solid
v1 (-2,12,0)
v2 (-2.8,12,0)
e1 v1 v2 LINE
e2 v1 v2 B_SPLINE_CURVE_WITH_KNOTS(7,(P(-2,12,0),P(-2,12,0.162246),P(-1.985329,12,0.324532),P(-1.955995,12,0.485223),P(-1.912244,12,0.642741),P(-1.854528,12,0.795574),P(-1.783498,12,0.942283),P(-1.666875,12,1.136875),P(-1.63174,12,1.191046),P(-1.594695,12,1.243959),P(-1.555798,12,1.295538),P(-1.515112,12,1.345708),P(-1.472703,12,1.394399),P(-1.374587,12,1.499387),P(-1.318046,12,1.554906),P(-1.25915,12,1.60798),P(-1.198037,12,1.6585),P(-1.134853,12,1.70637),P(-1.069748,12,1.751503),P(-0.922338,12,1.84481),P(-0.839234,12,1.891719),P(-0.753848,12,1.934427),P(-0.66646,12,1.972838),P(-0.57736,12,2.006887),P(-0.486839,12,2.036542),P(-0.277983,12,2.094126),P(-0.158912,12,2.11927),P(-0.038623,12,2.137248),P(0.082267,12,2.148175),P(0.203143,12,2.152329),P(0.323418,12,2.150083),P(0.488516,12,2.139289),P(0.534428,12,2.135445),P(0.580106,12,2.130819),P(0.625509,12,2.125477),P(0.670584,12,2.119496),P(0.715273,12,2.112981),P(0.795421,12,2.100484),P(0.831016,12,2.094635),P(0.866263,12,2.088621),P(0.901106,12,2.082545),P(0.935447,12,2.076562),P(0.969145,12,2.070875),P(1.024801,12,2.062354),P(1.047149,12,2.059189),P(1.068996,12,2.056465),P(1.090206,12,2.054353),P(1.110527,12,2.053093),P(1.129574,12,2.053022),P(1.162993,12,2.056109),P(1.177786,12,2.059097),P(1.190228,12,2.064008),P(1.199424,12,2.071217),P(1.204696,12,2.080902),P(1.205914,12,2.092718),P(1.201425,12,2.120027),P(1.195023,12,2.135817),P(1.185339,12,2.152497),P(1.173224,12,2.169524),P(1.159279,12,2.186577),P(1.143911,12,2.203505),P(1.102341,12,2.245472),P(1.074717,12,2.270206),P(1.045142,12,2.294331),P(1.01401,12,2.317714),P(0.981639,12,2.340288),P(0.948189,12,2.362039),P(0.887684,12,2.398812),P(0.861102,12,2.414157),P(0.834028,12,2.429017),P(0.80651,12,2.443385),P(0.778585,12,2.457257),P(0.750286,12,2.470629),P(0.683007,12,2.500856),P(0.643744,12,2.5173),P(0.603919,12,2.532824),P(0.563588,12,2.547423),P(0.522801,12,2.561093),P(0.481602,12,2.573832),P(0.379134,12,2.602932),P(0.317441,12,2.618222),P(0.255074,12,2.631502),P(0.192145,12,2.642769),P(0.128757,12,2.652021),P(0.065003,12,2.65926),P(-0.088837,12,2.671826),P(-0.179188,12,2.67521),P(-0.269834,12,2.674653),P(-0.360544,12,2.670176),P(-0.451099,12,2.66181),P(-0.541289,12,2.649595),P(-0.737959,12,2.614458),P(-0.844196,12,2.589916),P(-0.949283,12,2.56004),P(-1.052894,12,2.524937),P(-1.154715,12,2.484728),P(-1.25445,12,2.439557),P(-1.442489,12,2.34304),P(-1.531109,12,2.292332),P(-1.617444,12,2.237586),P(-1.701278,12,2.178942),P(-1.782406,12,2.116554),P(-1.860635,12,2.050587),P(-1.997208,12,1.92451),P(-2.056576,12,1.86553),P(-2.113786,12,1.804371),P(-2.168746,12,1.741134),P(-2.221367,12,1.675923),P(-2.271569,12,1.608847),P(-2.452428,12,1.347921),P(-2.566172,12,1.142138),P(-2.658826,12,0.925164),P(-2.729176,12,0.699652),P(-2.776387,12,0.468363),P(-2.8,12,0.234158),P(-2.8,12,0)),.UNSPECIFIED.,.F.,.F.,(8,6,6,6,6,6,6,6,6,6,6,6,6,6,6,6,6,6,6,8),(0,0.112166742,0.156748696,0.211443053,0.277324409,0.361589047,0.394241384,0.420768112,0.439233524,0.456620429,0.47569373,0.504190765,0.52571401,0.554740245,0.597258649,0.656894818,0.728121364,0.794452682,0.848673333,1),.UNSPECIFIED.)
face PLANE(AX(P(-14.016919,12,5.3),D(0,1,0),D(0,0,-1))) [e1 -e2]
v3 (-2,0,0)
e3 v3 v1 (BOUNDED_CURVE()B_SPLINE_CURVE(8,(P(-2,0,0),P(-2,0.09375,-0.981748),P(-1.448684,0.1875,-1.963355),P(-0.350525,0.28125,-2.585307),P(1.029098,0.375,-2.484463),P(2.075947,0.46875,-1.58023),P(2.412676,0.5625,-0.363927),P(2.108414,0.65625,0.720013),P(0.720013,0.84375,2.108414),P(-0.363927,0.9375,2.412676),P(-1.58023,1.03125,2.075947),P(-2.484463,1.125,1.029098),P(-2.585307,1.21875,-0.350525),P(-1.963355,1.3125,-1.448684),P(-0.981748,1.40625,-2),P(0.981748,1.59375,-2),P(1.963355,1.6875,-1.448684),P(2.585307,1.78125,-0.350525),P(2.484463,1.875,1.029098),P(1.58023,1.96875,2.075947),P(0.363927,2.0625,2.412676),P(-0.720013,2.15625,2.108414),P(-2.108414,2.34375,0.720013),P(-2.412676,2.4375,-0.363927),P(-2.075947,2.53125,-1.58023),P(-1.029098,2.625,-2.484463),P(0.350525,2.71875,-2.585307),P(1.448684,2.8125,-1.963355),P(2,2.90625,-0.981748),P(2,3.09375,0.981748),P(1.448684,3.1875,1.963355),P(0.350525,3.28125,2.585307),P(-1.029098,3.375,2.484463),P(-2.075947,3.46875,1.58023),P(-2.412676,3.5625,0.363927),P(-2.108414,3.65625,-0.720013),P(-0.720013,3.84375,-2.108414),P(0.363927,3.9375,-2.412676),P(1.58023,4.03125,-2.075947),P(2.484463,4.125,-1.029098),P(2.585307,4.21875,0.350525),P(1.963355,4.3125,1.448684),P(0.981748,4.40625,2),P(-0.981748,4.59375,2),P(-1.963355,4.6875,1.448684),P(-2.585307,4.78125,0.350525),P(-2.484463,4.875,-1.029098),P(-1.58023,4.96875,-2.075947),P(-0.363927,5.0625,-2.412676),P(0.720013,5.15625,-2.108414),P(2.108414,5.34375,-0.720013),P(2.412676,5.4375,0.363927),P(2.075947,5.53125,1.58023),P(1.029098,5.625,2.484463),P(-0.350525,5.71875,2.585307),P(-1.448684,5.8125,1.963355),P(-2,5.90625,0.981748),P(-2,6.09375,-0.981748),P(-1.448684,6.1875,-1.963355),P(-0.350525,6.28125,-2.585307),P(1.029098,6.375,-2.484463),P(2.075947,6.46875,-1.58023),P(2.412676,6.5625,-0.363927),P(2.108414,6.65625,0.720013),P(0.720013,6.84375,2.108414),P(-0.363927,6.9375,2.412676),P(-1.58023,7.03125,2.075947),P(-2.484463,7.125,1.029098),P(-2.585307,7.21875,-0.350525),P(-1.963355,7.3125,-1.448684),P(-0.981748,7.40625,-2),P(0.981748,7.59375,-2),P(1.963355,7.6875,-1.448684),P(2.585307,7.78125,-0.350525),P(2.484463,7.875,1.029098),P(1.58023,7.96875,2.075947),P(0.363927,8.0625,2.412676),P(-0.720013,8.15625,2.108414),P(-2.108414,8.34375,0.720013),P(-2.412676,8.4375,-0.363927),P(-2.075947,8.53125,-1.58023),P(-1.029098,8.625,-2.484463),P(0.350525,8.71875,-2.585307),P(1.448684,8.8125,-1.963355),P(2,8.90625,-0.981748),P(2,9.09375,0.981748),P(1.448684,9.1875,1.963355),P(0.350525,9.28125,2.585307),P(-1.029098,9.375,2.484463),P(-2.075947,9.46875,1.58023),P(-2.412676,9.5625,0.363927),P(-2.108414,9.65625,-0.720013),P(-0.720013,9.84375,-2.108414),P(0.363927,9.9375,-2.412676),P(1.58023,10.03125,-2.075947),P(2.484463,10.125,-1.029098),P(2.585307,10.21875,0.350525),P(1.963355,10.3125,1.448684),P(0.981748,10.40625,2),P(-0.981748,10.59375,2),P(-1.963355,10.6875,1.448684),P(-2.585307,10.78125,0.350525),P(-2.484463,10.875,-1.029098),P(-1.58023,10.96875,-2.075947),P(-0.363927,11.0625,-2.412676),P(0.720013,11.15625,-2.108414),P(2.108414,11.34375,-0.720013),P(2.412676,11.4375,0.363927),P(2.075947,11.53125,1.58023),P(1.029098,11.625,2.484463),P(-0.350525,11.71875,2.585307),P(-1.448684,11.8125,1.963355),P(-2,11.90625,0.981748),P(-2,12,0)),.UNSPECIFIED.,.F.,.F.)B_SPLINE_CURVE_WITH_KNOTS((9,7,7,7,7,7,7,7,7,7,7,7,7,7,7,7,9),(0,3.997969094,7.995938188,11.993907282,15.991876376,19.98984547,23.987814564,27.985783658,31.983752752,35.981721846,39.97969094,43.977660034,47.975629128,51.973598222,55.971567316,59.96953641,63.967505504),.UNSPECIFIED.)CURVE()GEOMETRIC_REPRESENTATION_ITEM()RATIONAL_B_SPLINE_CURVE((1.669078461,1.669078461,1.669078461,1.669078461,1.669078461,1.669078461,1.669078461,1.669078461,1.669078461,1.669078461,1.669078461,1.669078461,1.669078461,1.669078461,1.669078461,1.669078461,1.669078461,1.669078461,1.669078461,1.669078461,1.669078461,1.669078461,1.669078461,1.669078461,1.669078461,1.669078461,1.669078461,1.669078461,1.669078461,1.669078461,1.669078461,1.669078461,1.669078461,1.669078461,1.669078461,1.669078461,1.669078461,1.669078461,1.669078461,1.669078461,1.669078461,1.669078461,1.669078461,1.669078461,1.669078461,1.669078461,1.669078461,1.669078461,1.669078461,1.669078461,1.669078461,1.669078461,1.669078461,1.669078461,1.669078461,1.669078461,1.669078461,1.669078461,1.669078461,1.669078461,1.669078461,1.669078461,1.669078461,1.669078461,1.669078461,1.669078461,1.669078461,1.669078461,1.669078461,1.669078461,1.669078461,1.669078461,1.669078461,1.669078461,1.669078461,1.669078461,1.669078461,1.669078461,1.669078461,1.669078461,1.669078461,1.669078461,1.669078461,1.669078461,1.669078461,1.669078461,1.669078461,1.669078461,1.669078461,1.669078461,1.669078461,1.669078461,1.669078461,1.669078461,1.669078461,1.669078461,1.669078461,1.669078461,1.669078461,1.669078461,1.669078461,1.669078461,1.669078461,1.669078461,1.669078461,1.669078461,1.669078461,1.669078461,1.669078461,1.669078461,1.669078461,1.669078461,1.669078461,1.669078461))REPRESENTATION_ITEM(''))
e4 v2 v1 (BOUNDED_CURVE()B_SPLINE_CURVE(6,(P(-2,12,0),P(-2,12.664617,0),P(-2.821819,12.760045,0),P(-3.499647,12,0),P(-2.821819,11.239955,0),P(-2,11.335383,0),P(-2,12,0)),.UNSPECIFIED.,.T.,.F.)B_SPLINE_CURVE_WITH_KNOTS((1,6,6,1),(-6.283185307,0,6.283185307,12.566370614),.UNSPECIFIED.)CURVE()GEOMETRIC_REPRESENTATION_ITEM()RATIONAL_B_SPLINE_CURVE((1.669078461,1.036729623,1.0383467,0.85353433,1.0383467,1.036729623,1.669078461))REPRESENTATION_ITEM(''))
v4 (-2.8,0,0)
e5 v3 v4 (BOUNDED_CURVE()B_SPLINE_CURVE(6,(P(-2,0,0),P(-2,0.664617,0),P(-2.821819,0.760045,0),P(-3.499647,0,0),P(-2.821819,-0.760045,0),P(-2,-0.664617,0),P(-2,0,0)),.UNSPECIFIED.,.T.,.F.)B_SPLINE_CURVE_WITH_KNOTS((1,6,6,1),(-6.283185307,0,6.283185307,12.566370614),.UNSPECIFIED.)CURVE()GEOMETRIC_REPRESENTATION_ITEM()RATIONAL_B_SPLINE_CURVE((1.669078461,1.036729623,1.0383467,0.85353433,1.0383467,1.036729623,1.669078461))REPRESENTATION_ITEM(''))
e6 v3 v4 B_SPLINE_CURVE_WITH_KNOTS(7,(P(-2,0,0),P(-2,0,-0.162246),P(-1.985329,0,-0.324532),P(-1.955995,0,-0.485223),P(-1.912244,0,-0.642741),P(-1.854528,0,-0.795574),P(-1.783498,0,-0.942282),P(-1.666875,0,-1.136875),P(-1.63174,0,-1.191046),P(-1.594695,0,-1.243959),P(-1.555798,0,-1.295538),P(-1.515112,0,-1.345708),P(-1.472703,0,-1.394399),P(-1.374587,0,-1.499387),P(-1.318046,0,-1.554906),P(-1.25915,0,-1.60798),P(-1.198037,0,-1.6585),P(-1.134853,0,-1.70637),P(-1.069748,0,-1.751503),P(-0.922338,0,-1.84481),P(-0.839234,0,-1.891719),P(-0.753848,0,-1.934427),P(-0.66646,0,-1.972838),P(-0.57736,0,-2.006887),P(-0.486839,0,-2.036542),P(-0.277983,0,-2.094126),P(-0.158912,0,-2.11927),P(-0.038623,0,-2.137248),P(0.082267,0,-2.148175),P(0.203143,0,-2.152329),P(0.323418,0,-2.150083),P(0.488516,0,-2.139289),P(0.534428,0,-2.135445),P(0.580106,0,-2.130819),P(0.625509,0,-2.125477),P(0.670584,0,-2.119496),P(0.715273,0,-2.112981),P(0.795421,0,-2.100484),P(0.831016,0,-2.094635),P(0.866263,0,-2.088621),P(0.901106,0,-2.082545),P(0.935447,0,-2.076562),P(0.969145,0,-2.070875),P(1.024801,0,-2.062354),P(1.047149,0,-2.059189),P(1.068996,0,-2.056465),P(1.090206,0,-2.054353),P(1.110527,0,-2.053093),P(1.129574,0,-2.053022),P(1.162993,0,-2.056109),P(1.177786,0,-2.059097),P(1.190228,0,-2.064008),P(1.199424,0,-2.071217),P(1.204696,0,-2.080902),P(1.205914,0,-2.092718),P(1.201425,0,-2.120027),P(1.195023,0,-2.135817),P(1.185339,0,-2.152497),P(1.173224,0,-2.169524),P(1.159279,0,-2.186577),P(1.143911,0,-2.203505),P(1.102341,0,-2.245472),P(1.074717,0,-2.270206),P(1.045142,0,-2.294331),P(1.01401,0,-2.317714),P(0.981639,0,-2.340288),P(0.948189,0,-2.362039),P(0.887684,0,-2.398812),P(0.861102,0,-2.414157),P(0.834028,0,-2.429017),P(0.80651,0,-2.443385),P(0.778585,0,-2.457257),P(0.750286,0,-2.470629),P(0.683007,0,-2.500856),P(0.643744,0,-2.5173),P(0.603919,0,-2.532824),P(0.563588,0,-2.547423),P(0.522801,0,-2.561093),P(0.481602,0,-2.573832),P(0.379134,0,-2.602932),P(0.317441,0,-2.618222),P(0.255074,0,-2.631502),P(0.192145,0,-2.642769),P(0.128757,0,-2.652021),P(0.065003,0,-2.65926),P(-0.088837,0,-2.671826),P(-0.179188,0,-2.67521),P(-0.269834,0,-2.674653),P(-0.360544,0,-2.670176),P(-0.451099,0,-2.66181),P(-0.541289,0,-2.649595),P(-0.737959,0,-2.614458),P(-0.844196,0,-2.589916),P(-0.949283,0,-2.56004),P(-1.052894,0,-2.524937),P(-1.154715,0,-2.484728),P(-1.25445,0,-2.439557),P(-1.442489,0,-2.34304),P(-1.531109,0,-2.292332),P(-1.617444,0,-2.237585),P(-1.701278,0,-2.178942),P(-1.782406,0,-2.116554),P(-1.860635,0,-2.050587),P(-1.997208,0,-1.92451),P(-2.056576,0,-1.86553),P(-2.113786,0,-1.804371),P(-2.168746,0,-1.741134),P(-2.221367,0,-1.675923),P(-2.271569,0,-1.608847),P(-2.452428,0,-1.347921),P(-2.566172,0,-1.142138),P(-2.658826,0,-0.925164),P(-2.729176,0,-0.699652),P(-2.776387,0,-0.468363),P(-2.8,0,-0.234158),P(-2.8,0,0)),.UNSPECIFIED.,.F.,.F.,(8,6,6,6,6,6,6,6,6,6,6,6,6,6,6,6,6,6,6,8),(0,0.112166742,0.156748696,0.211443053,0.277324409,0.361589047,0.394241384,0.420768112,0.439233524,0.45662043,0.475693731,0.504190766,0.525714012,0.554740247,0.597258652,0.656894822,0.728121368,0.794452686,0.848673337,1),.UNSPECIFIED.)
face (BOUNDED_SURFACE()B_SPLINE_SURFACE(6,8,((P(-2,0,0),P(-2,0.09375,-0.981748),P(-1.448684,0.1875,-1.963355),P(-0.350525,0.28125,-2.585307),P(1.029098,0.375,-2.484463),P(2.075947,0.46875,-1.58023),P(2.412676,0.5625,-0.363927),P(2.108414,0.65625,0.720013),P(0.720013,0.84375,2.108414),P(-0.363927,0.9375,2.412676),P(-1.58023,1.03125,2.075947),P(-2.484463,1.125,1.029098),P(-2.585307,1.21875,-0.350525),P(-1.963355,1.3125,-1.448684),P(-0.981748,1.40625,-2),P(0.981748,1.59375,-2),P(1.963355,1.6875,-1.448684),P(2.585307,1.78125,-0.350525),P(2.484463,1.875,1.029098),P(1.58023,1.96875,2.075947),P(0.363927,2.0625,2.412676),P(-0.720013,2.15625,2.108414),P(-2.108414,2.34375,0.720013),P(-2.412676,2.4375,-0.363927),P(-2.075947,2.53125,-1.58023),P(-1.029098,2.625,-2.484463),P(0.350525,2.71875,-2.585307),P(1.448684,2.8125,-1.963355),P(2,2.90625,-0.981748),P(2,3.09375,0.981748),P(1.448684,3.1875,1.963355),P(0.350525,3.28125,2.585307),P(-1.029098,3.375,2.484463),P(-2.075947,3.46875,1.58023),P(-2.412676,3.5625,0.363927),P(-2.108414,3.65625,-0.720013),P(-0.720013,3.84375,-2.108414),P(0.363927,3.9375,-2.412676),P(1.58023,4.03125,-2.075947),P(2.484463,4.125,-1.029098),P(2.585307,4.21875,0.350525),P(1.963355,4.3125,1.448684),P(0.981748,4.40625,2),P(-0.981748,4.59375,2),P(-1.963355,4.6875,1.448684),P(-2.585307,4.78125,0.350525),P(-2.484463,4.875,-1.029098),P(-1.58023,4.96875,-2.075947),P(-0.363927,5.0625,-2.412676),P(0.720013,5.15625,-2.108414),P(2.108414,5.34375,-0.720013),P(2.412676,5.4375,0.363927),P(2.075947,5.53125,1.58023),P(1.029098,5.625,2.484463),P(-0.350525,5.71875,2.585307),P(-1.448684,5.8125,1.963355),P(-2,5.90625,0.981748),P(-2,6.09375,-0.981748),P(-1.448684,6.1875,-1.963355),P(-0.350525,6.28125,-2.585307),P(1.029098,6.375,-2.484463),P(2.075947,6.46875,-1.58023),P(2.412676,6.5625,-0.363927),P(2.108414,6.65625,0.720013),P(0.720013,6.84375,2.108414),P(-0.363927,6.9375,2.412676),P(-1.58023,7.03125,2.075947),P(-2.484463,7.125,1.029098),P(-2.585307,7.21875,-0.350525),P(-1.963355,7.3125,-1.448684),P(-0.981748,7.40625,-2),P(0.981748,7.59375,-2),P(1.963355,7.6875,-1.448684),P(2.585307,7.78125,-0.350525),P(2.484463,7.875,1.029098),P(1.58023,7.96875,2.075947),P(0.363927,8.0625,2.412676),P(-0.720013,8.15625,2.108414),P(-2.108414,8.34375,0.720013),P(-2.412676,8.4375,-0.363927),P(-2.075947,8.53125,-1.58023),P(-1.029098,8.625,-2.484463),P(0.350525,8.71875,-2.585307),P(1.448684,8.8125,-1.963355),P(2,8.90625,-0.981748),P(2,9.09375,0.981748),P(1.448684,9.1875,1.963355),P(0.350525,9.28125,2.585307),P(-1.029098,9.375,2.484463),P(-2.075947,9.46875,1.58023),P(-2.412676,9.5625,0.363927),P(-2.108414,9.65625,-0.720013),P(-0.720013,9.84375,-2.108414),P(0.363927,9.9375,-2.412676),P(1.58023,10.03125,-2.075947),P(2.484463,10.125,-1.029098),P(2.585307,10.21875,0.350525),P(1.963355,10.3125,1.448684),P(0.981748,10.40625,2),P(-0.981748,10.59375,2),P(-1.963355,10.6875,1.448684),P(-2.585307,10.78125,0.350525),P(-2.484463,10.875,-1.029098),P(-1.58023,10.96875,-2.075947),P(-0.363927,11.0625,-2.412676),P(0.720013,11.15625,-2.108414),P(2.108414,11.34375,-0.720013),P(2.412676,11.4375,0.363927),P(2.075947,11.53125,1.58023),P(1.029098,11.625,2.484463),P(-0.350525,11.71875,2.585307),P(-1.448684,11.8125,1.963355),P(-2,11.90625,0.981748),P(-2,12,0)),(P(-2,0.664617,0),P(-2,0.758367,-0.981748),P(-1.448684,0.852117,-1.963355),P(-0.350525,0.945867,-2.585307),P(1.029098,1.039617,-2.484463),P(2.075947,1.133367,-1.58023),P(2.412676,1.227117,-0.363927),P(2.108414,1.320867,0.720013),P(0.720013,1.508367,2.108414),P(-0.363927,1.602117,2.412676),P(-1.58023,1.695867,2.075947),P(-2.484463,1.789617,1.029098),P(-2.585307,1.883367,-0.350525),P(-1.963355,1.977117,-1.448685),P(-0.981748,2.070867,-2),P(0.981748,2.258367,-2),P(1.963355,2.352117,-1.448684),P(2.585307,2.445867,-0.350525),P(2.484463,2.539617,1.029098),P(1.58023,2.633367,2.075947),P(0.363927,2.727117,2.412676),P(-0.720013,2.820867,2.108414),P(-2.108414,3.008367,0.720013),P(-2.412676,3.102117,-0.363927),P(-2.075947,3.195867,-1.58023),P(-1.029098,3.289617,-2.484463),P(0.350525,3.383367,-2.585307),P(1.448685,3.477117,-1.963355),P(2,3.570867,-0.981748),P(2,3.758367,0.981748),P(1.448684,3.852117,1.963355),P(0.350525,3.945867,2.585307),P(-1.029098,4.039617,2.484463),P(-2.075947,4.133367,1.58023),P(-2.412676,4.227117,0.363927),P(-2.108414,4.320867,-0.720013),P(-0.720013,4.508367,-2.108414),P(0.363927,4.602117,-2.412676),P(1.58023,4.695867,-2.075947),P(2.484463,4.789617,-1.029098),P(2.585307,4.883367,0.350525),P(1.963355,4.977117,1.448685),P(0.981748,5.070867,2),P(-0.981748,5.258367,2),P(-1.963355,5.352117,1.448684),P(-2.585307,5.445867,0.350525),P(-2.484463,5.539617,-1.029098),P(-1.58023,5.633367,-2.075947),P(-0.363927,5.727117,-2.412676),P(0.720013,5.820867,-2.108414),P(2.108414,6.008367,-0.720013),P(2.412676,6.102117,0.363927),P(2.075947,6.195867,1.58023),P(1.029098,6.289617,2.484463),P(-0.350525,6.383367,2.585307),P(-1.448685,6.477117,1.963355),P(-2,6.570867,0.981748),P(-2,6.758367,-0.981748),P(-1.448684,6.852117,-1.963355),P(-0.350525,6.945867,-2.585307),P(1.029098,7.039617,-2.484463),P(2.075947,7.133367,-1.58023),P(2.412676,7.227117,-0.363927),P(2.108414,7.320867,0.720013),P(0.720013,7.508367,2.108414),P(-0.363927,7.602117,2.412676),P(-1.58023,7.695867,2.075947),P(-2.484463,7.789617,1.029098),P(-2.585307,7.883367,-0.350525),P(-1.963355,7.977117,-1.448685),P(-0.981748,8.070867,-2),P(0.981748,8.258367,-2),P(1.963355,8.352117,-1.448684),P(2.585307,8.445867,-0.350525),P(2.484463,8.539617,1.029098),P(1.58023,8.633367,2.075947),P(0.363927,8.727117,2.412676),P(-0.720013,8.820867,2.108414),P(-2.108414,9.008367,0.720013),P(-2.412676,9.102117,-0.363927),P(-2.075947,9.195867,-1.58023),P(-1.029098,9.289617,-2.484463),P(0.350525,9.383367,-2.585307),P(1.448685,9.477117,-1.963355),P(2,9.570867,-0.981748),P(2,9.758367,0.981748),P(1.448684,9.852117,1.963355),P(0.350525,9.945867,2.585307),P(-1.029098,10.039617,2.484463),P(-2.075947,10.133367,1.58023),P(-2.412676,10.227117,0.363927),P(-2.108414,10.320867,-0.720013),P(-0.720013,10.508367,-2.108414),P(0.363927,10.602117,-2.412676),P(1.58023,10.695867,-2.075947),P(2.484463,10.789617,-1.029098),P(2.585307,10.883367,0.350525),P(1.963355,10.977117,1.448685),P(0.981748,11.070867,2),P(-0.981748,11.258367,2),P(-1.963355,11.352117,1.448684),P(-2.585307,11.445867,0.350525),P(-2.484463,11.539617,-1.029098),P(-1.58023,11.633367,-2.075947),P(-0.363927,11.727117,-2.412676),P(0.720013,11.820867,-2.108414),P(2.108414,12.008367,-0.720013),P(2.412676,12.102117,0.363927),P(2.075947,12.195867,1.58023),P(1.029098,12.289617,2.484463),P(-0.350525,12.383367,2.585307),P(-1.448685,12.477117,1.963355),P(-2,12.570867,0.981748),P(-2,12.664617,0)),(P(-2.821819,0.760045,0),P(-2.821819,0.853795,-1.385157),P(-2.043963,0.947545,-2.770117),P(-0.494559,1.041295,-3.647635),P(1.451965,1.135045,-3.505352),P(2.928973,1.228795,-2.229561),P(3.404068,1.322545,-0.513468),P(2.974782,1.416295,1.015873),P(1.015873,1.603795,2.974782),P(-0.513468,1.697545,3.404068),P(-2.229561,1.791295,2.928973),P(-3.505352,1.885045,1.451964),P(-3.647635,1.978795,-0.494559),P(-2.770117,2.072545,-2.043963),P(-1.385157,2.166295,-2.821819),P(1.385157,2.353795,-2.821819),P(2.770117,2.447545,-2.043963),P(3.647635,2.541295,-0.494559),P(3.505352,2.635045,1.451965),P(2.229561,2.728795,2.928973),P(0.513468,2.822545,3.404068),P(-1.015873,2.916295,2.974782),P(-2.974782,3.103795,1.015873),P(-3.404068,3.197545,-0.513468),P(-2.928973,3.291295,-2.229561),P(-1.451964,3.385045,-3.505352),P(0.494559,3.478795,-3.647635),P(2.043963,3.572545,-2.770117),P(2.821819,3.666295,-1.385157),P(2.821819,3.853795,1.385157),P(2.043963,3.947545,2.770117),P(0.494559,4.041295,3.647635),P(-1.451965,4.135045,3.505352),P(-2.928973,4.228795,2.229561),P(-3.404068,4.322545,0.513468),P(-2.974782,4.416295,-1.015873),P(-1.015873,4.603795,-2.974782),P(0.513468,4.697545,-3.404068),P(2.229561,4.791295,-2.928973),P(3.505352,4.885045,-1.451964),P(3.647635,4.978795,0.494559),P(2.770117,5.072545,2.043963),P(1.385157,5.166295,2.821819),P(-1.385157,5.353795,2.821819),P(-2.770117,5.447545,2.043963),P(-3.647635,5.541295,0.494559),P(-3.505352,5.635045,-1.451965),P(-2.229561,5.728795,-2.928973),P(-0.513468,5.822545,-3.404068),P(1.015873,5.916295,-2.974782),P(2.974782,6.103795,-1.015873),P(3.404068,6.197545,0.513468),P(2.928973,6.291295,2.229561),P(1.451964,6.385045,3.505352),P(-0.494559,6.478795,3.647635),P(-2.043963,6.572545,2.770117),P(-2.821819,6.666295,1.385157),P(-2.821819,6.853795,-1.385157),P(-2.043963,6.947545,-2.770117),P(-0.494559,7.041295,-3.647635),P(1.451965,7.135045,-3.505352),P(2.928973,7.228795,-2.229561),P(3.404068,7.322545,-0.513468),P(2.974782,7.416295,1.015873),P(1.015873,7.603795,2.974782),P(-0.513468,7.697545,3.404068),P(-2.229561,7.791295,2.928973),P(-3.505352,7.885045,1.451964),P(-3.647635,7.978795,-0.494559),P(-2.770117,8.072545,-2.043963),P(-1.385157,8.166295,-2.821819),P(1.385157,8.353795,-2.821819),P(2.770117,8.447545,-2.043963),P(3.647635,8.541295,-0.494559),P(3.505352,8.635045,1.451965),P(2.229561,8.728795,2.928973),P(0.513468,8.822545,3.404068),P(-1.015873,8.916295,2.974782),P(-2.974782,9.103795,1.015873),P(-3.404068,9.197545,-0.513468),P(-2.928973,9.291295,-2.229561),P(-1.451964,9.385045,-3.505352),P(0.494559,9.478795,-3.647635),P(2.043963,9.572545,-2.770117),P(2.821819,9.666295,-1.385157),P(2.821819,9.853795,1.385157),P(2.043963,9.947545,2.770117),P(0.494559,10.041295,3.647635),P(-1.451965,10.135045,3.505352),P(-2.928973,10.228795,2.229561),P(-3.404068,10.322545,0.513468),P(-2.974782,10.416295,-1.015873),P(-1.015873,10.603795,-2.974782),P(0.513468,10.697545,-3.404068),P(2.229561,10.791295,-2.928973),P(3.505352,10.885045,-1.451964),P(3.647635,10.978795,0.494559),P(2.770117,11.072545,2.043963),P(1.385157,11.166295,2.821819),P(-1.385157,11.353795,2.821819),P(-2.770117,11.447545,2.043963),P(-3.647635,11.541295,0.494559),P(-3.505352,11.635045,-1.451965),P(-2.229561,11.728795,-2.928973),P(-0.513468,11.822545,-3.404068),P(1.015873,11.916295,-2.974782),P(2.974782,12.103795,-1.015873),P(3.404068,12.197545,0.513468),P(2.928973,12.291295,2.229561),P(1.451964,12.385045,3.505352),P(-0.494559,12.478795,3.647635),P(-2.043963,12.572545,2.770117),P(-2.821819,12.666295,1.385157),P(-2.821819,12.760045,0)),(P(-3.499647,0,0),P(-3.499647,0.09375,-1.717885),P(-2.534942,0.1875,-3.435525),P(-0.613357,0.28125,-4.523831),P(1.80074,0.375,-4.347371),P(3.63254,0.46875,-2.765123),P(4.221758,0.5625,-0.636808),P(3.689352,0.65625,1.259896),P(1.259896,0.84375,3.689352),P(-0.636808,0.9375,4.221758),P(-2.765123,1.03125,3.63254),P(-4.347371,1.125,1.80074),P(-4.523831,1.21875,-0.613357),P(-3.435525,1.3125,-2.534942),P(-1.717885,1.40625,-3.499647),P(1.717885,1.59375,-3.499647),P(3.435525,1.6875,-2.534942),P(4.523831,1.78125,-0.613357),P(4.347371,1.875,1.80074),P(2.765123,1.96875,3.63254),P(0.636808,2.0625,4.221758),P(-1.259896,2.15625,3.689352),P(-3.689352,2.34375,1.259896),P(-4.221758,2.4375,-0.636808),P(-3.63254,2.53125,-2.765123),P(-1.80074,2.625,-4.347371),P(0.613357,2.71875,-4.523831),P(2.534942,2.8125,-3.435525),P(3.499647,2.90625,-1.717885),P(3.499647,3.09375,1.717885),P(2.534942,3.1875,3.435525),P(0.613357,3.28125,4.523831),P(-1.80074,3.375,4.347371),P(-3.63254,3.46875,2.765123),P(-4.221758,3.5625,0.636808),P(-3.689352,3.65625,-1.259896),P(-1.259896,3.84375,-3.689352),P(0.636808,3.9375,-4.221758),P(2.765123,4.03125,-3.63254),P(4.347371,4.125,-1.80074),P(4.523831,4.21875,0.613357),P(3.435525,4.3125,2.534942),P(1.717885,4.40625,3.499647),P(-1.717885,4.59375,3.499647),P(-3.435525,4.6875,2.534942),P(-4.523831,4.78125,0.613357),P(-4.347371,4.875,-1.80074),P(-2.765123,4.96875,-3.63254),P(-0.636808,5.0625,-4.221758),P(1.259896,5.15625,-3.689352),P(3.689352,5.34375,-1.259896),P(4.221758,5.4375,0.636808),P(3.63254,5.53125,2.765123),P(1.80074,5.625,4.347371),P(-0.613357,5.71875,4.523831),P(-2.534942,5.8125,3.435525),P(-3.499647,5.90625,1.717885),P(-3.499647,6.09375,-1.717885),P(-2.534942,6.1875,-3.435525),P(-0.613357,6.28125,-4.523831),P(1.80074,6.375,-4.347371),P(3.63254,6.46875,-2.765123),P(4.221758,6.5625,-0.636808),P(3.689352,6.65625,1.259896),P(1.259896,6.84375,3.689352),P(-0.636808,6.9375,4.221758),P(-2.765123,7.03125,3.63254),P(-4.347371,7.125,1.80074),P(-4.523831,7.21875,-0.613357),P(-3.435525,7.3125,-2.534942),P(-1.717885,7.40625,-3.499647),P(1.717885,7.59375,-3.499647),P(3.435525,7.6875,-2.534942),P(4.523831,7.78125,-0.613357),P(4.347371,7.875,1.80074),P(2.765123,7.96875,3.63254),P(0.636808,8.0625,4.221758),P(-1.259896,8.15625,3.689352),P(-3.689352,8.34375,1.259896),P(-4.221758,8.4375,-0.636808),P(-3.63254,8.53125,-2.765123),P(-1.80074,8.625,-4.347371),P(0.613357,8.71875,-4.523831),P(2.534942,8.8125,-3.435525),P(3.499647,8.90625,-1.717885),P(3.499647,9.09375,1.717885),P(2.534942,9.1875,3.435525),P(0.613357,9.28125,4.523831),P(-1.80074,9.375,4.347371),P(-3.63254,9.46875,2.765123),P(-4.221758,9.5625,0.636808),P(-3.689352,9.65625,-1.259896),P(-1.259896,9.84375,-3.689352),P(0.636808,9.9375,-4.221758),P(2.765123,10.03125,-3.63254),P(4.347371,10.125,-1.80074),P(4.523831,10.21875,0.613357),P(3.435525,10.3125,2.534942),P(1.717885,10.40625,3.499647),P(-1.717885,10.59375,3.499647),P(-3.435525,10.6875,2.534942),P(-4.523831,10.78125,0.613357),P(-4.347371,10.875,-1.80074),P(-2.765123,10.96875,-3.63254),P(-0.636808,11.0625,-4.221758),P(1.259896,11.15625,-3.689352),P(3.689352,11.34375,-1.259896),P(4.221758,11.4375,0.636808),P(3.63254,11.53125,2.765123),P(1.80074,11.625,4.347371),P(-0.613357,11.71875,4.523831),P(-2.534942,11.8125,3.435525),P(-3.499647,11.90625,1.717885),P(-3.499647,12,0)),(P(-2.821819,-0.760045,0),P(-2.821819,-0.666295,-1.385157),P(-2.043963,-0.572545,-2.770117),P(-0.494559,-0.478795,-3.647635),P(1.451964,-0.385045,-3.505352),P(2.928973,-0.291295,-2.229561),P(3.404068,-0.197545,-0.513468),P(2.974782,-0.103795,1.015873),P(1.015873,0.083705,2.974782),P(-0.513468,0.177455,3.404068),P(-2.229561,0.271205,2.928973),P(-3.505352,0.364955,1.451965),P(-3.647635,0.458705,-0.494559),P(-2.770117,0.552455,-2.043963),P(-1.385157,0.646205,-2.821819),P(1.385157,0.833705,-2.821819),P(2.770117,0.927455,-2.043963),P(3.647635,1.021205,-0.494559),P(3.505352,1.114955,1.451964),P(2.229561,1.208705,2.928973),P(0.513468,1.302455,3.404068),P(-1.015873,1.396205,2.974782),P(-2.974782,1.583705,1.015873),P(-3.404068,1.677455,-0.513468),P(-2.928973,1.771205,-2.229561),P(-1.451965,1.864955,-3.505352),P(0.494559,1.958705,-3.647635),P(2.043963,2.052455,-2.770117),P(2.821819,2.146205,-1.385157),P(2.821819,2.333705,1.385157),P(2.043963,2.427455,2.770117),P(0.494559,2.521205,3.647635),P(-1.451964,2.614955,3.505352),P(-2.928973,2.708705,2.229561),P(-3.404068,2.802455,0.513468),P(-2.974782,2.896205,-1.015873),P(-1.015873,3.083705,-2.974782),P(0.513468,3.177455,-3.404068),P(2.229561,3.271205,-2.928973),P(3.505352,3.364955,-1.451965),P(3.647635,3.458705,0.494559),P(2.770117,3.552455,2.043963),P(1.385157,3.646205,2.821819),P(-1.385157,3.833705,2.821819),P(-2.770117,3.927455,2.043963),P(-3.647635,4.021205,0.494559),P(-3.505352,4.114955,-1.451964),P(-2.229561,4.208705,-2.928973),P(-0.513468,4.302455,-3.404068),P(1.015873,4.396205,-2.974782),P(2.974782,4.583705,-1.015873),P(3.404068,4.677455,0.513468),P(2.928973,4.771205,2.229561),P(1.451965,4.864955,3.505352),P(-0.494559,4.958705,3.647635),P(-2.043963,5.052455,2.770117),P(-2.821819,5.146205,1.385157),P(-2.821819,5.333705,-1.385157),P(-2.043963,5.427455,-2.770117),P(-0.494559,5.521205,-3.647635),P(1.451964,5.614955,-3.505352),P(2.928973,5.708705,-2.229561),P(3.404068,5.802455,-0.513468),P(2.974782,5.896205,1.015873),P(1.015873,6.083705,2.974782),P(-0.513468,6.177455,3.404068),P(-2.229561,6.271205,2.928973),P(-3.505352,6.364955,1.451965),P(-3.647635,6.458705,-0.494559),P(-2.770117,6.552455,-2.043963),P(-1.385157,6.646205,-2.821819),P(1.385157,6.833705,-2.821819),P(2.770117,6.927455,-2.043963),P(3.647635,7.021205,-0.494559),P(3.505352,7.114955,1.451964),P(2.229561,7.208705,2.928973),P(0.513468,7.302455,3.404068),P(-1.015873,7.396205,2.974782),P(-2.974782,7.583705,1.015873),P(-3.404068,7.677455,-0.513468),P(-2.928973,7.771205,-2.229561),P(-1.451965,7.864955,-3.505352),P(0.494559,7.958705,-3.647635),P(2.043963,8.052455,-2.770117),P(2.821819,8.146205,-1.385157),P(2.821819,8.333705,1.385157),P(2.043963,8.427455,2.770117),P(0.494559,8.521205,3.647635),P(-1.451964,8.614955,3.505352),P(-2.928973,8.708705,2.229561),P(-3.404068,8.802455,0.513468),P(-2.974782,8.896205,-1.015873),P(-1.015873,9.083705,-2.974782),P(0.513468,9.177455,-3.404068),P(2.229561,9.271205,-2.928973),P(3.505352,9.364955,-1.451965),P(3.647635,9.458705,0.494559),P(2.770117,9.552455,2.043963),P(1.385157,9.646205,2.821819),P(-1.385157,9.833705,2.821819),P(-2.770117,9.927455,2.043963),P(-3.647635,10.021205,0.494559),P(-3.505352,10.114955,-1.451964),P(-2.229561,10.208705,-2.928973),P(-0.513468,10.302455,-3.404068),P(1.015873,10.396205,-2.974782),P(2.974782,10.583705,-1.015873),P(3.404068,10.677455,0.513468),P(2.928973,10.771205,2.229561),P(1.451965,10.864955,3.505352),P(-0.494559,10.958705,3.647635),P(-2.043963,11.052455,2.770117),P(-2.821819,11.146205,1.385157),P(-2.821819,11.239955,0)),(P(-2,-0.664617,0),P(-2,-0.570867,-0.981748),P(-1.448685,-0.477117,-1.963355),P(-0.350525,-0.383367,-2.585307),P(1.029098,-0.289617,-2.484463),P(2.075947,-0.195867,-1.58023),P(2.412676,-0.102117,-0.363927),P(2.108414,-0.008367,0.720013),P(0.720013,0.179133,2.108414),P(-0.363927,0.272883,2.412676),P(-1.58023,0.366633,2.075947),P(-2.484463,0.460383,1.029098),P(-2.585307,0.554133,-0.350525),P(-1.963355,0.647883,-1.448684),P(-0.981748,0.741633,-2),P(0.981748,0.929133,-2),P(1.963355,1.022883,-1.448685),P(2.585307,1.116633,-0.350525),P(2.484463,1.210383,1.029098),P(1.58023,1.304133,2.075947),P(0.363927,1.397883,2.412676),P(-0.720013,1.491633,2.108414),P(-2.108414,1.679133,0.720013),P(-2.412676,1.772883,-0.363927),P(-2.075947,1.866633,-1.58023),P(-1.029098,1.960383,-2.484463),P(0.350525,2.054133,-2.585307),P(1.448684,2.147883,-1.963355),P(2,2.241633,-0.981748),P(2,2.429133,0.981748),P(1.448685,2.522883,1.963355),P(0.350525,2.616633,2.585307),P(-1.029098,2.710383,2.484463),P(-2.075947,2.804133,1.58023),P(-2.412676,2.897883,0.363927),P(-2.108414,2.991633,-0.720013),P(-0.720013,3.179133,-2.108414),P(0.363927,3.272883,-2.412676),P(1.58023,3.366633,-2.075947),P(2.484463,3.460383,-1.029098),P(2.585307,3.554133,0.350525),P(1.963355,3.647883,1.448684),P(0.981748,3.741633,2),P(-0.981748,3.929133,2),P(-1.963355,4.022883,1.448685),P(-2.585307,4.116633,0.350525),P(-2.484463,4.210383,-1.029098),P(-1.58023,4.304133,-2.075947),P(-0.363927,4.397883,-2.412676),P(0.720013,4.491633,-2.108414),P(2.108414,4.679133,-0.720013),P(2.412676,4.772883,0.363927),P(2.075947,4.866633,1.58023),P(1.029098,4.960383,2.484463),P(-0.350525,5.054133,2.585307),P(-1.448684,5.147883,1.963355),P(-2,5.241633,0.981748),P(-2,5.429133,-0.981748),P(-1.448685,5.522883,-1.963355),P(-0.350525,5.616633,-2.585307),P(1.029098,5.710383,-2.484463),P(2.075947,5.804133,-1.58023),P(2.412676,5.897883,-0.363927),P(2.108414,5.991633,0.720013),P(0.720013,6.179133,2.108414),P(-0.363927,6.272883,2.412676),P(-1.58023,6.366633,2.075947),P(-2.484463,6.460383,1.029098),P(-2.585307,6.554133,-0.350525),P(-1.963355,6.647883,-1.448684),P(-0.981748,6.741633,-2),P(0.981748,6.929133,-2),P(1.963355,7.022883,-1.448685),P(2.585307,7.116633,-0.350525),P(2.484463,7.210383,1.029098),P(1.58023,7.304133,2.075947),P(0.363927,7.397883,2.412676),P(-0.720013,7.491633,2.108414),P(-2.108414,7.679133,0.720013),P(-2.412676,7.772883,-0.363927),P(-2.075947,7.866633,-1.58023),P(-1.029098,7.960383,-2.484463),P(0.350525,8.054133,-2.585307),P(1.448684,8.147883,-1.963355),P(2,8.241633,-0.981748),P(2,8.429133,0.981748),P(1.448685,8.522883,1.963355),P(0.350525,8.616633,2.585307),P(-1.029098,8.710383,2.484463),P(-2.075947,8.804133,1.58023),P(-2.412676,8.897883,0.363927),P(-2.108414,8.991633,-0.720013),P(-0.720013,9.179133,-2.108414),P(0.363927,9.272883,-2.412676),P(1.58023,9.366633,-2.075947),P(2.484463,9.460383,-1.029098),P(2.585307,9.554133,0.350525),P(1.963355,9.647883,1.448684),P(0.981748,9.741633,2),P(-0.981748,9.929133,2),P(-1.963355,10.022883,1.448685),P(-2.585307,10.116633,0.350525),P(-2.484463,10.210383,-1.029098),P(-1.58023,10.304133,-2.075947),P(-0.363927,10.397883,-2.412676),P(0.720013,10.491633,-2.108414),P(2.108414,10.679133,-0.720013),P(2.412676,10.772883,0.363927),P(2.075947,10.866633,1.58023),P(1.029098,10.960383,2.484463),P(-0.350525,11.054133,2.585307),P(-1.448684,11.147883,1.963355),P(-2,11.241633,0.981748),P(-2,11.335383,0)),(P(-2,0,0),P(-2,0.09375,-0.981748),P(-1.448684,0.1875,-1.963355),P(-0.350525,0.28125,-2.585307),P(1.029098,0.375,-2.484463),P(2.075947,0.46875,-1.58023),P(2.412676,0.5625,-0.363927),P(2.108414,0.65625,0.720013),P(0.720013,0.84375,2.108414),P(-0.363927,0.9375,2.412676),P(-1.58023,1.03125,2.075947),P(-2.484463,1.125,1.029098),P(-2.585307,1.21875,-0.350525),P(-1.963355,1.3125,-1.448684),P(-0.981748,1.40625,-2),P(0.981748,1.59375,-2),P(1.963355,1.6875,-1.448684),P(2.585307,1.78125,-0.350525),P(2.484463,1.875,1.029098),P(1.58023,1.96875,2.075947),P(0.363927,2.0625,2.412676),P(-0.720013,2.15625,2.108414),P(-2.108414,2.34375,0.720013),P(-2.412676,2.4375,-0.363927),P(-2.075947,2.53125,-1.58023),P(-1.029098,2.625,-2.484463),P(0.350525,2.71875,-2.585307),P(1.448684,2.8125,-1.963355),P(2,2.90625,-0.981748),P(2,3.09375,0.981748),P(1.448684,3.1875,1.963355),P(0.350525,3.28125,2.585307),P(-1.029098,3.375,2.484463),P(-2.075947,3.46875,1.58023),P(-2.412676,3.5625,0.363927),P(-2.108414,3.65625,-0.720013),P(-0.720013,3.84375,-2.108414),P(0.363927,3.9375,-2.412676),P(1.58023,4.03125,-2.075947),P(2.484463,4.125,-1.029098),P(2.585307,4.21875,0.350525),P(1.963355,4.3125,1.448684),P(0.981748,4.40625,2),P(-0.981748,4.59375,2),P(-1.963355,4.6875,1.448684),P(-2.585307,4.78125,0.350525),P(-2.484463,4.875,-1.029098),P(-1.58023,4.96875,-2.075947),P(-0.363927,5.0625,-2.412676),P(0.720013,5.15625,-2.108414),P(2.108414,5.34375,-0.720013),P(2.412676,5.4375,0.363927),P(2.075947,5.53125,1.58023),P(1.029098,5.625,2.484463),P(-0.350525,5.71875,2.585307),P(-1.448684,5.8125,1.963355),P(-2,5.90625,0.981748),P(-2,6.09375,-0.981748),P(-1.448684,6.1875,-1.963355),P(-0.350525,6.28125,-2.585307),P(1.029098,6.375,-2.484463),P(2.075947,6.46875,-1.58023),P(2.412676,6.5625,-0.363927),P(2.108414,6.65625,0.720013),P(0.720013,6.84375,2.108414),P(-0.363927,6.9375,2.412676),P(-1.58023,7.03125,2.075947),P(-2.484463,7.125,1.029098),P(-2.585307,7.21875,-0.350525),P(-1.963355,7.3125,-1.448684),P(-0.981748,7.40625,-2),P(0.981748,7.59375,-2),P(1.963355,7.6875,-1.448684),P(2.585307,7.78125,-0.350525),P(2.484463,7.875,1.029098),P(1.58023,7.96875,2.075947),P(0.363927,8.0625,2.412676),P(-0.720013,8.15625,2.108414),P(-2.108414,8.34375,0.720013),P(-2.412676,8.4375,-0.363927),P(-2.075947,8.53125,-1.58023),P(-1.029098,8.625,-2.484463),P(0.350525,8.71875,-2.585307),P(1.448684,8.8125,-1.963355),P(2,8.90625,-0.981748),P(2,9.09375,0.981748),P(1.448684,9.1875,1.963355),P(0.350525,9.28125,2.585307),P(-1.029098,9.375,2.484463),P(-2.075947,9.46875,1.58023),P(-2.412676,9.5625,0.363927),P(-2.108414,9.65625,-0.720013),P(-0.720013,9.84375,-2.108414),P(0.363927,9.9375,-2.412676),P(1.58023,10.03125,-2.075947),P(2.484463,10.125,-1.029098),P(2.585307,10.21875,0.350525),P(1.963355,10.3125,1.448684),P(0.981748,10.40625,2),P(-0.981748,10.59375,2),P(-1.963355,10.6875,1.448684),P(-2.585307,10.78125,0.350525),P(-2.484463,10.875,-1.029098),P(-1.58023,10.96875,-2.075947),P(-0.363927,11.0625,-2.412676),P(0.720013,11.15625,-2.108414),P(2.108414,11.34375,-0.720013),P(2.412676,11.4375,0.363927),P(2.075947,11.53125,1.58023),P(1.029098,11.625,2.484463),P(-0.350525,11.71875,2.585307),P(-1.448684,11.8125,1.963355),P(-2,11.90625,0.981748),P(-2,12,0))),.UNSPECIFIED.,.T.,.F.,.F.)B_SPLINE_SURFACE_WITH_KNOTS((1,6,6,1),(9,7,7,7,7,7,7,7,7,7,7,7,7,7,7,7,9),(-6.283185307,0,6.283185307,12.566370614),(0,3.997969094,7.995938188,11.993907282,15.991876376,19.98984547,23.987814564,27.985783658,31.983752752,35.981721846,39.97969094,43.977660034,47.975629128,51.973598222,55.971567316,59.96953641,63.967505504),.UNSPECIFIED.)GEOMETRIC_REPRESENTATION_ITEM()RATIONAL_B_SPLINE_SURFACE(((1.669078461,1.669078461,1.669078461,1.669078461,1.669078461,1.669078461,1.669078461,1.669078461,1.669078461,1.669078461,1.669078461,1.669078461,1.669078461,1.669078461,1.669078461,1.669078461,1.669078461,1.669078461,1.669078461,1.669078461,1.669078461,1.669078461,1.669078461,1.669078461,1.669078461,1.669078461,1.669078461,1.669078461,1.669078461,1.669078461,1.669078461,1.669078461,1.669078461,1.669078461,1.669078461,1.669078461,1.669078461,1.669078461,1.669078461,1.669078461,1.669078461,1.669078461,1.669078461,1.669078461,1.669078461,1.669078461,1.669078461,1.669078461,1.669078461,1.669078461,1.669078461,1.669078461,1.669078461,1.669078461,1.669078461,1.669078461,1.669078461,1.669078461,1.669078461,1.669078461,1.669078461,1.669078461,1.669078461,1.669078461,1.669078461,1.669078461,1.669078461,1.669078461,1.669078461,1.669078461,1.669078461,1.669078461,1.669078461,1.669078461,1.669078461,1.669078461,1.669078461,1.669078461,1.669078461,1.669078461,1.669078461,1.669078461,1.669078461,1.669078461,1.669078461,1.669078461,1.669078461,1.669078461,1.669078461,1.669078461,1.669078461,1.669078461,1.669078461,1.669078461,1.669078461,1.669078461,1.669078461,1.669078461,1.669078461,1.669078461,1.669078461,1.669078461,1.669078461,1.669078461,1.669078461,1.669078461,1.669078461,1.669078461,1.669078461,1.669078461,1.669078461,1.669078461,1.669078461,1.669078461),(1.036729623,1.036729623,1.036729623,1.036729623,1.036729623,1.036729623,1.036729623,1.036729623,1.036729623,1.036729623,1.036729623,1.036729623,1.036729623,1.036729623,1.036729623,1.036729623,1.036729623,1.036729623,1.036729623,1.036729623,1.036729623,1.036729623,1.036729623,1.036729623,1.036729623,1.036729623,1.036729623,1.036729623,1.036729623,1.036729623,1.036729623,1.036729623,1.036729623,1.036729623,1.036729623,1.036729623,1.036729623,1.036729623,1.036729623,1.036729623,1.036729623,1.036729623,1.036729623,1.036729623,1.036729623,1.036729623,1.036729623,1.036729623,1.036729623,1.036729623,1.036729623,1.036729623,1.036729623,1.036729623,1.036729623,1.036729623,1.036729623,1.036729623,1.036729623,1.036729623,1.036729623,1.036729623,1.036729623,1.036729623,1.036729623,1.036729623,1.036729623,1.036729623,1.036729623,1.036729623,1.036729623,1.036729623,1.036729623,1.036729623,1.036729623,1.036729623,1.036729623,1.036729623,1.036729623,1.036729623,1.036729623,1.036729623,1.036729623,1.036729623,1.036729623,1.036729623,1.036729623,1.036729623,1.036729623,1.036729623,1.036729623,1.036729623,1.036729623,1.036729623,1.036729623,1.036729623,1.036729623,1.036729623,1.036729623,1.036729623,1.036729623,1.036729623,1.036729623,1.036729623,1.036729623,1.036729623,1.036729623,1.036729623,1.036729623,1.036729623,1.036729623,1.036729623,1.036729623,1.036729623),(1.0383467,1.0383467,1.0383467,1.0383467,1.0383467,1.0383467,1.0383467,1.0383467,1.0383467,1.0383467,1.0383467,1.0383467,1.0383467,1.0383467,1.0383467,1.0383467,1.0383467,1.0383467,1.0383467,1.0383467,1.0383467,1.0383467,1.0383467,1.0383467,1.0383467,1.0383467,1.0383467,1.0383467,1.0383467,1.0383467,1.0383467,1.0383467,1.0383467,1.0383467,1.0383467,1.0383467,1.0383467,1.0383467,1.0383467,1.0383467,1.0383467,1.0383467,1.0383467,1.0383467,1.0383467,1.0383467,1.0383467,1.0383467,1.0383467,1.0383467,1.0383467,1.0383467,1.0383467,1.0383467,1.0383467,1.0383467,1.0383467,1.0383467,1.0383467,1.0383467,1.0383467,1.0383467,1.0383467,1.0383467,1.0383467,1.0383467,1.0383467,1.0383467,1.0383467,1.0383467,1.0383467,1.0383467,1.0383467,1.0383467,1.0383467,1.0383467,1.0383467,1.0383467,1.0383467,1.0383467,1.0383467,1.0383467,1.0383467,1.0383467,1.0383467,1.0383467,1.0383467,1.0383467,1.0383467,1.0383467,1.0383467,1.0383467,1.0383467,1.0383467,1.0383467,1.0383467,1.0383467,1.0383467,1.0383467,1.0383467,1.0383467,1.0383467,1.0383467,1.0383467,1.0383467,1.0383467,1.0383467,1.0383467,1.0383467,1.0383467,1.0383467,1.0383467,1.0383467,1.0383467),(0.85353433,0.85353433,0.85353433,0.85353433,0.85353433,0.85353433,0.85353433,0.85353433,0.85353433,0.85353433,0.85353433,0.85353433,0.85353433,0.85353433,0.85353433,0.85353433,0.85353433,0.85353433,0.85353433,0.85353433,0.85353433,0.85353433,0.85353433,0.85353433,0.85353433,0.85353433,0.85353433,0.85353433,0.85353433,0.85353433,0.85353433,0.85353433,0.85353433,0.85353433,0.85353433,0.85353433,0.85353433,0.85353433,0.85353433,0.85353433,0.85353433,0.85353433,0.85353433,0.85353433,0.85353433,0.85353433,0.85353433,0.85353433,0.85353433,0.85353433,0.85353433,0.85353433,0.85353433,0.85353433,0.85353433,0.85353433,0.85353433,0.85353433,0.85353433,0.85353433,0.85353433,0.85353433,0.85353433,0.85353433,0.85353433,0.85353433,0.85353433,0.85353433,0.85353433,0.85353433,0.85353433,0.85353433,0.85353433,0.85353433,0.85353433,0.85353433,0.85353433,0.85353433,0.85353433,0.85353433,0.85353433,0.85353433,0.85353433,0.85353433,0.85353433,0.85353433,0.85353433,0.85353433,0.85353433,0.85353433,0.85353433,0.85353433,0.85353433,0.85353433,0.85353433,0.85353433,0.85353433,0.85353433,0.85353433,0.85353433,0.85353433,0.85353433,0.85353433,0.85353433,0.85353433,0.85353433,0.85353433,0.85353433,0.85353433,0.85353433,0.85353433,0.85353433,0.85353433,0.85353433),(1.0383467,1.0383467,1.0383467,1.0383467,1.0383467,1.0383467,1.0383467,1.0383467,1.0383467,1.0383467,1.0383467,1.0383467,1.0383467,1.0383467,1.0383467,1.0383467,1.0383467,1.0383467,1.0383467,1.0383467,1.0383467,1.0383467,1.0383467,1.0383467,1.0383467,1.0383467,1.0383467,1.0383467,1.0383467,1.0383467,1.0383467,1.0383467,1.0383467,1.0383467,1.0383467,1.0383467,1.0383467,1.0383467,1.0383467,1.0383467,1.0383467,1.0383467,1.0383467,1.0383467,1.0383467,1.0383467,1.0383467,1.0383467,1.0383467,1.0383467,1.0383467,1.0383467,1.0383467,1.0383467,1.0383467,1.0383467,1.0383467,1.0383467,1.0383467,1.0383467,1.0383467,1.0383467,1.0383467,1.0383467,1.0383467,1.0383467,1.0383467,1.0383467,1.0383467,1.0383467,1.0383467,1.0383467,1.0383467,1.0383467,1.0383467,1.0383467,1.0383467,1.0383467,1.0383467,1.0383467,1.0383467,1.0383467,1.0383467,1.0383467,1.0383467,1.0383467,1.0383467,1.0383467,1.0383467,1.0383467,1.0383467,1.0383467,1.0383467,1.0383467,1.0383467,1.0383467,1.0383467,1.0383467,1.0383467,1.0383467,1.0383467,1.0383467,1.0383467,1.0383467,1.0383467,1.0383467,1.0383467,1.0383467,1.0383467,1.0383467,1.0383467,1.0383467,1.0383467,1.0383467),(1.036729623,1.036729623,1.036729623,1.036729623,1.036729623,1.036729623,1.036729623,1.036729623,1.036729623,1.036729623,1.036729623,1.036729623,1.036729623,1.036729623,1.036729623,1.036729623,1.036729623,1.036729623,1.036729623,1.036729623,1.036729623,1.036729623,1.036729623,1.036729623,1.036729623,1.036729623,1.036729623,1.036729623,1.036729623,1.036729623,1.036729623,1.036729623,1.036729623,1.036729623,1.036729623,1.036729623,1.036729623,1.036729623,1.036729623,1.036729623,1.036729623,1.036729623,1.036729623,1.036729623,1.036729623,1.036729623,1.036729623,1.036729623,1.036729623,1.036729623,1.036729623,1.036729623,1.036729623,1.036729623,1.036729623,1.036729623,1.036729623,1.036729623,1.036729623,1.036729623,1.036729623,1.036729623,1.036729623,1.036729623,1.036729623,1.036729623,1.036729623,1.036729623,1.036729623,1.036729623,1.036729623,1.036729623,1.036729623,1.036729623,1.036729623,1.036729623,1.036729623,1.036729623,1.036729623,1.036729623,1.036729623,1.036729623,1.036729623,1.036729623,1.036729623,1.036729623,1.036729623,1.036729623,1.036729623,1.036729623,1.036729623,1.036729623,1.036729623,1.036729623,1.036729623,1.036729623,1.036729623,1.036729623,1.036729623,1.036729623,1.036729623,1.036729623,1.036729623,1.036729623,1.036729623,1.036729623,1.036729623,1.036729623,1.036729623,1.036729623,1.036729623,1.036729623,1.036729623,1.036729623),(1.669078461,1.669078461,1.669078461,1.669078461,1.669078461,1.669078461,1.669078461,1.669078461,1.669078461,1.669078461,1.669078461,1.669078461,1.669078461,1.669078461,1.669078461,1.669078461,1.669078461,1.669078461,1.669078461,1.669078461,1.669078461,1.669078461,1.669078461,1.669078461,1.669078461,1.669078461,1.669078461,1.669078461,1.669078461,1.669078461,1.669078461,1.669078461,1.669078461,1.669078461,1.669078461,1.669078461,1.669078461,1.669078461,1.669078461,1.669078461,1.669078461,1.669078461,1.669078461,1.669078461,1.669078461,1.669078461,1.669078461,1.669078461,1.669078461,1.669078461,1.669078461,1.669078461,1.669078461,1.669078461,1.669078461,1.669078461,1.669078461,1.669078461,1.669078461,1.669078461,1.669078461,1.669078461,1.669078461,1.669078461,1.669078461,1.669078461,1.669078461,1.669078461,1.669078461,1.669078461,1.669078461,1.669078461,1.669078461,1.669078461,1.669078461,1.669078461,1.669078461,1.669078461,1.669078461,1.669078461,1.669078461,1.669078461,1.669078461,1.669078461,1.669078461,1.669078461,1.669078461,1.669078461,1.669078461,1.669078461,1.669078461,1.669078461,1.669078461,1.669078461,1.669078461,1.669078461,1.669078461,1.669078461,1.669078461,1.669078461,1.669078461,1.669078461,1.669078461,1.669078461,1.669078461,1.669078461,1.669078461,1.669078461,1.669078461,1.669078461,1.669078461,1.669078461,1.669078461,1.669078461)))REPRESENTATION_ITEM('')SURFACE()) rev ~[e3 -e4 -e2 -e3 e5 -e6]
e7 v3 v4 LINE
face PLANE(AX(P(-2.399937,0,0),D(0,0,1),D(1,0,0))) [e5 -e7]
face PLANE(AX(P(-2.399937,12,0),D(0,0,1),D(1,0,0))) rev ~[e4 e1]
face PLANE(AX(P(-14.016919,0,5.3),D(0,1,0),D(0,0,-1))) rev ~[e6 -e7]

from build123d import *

# Parameters (mm, degrees)
SWEEP1_PITCH            = 1.2
SWEEP1_HEIGHT           = 12
SWEEP1_RADIUS           = 2.4
SWEEP1_START_ANGLE      = -90
SKETCH2_R               = 0.4
CUT_EXTRUDE1_DEPTH      = 14.016918694
CUT_EXTRUDE1_DEPTH_BACK = 14.016918694
SKETCH3_OUTSIDE_W       = 10.61
SKETCH3_OUTSIDE_H       = 17.81
SKETCH3_OUTSIDE_W_2     = 10.6
SKETCH3_OUTSIDE_H_2     = 12


with BuildPart() as part:
    # Sweep1: sweep along a helix
    with BuildLine() as sweep1_path:
        add(Helix(SWEEP1_PITCH, SWEEP1_HEIGHT, SWEEP1_RADIUS, center=(0, 0, 0), direction=(0, 1, 0), lefthand=True, mode=Mode.PRIVATE).rotate(Axis((0, 0, 0), (0, 1, 0)), SWEEP1_START_ANGLE))
    # Sketch2 → Sweep1 (sweep)
    with BuildSketch(Plane.XY):
        with Locations((-2.4, 0)):
            Circle(SKETCH2_R)
    sweep(path=sweep1_path.line, is_frenet=True)

    # Sketch3 outside → Cut-Extrude1 (cut, two sides: drawn at the far end of the back side and taken through both)
    with BuildSketch(Plane(origin=(0, 0, 0), x_dir=(0, 0, -1), z_dir=(1, 0, 0)).offset(-CUT_EXTRUDE1_DEPTH_BACK)):
        with Locations((0, 6)):
            Rectangle(SKETCH3_OUTSIDE_W, SKETCH3_OUTSIDE_H)
        with Locations((0, 6)):
            Rectangle(SKETCH3_OUTSIDE_W_2, SKETCH3_OUTSIDE_H_2, mode=Mode.SUBTRACT)
    extrude(amount=CUT_EXTRUDE1_DEPTH + CUT_EXTRUDE1_DEPTH_BACK, mode=Mode.SUBTRACT)


solid = part.part
